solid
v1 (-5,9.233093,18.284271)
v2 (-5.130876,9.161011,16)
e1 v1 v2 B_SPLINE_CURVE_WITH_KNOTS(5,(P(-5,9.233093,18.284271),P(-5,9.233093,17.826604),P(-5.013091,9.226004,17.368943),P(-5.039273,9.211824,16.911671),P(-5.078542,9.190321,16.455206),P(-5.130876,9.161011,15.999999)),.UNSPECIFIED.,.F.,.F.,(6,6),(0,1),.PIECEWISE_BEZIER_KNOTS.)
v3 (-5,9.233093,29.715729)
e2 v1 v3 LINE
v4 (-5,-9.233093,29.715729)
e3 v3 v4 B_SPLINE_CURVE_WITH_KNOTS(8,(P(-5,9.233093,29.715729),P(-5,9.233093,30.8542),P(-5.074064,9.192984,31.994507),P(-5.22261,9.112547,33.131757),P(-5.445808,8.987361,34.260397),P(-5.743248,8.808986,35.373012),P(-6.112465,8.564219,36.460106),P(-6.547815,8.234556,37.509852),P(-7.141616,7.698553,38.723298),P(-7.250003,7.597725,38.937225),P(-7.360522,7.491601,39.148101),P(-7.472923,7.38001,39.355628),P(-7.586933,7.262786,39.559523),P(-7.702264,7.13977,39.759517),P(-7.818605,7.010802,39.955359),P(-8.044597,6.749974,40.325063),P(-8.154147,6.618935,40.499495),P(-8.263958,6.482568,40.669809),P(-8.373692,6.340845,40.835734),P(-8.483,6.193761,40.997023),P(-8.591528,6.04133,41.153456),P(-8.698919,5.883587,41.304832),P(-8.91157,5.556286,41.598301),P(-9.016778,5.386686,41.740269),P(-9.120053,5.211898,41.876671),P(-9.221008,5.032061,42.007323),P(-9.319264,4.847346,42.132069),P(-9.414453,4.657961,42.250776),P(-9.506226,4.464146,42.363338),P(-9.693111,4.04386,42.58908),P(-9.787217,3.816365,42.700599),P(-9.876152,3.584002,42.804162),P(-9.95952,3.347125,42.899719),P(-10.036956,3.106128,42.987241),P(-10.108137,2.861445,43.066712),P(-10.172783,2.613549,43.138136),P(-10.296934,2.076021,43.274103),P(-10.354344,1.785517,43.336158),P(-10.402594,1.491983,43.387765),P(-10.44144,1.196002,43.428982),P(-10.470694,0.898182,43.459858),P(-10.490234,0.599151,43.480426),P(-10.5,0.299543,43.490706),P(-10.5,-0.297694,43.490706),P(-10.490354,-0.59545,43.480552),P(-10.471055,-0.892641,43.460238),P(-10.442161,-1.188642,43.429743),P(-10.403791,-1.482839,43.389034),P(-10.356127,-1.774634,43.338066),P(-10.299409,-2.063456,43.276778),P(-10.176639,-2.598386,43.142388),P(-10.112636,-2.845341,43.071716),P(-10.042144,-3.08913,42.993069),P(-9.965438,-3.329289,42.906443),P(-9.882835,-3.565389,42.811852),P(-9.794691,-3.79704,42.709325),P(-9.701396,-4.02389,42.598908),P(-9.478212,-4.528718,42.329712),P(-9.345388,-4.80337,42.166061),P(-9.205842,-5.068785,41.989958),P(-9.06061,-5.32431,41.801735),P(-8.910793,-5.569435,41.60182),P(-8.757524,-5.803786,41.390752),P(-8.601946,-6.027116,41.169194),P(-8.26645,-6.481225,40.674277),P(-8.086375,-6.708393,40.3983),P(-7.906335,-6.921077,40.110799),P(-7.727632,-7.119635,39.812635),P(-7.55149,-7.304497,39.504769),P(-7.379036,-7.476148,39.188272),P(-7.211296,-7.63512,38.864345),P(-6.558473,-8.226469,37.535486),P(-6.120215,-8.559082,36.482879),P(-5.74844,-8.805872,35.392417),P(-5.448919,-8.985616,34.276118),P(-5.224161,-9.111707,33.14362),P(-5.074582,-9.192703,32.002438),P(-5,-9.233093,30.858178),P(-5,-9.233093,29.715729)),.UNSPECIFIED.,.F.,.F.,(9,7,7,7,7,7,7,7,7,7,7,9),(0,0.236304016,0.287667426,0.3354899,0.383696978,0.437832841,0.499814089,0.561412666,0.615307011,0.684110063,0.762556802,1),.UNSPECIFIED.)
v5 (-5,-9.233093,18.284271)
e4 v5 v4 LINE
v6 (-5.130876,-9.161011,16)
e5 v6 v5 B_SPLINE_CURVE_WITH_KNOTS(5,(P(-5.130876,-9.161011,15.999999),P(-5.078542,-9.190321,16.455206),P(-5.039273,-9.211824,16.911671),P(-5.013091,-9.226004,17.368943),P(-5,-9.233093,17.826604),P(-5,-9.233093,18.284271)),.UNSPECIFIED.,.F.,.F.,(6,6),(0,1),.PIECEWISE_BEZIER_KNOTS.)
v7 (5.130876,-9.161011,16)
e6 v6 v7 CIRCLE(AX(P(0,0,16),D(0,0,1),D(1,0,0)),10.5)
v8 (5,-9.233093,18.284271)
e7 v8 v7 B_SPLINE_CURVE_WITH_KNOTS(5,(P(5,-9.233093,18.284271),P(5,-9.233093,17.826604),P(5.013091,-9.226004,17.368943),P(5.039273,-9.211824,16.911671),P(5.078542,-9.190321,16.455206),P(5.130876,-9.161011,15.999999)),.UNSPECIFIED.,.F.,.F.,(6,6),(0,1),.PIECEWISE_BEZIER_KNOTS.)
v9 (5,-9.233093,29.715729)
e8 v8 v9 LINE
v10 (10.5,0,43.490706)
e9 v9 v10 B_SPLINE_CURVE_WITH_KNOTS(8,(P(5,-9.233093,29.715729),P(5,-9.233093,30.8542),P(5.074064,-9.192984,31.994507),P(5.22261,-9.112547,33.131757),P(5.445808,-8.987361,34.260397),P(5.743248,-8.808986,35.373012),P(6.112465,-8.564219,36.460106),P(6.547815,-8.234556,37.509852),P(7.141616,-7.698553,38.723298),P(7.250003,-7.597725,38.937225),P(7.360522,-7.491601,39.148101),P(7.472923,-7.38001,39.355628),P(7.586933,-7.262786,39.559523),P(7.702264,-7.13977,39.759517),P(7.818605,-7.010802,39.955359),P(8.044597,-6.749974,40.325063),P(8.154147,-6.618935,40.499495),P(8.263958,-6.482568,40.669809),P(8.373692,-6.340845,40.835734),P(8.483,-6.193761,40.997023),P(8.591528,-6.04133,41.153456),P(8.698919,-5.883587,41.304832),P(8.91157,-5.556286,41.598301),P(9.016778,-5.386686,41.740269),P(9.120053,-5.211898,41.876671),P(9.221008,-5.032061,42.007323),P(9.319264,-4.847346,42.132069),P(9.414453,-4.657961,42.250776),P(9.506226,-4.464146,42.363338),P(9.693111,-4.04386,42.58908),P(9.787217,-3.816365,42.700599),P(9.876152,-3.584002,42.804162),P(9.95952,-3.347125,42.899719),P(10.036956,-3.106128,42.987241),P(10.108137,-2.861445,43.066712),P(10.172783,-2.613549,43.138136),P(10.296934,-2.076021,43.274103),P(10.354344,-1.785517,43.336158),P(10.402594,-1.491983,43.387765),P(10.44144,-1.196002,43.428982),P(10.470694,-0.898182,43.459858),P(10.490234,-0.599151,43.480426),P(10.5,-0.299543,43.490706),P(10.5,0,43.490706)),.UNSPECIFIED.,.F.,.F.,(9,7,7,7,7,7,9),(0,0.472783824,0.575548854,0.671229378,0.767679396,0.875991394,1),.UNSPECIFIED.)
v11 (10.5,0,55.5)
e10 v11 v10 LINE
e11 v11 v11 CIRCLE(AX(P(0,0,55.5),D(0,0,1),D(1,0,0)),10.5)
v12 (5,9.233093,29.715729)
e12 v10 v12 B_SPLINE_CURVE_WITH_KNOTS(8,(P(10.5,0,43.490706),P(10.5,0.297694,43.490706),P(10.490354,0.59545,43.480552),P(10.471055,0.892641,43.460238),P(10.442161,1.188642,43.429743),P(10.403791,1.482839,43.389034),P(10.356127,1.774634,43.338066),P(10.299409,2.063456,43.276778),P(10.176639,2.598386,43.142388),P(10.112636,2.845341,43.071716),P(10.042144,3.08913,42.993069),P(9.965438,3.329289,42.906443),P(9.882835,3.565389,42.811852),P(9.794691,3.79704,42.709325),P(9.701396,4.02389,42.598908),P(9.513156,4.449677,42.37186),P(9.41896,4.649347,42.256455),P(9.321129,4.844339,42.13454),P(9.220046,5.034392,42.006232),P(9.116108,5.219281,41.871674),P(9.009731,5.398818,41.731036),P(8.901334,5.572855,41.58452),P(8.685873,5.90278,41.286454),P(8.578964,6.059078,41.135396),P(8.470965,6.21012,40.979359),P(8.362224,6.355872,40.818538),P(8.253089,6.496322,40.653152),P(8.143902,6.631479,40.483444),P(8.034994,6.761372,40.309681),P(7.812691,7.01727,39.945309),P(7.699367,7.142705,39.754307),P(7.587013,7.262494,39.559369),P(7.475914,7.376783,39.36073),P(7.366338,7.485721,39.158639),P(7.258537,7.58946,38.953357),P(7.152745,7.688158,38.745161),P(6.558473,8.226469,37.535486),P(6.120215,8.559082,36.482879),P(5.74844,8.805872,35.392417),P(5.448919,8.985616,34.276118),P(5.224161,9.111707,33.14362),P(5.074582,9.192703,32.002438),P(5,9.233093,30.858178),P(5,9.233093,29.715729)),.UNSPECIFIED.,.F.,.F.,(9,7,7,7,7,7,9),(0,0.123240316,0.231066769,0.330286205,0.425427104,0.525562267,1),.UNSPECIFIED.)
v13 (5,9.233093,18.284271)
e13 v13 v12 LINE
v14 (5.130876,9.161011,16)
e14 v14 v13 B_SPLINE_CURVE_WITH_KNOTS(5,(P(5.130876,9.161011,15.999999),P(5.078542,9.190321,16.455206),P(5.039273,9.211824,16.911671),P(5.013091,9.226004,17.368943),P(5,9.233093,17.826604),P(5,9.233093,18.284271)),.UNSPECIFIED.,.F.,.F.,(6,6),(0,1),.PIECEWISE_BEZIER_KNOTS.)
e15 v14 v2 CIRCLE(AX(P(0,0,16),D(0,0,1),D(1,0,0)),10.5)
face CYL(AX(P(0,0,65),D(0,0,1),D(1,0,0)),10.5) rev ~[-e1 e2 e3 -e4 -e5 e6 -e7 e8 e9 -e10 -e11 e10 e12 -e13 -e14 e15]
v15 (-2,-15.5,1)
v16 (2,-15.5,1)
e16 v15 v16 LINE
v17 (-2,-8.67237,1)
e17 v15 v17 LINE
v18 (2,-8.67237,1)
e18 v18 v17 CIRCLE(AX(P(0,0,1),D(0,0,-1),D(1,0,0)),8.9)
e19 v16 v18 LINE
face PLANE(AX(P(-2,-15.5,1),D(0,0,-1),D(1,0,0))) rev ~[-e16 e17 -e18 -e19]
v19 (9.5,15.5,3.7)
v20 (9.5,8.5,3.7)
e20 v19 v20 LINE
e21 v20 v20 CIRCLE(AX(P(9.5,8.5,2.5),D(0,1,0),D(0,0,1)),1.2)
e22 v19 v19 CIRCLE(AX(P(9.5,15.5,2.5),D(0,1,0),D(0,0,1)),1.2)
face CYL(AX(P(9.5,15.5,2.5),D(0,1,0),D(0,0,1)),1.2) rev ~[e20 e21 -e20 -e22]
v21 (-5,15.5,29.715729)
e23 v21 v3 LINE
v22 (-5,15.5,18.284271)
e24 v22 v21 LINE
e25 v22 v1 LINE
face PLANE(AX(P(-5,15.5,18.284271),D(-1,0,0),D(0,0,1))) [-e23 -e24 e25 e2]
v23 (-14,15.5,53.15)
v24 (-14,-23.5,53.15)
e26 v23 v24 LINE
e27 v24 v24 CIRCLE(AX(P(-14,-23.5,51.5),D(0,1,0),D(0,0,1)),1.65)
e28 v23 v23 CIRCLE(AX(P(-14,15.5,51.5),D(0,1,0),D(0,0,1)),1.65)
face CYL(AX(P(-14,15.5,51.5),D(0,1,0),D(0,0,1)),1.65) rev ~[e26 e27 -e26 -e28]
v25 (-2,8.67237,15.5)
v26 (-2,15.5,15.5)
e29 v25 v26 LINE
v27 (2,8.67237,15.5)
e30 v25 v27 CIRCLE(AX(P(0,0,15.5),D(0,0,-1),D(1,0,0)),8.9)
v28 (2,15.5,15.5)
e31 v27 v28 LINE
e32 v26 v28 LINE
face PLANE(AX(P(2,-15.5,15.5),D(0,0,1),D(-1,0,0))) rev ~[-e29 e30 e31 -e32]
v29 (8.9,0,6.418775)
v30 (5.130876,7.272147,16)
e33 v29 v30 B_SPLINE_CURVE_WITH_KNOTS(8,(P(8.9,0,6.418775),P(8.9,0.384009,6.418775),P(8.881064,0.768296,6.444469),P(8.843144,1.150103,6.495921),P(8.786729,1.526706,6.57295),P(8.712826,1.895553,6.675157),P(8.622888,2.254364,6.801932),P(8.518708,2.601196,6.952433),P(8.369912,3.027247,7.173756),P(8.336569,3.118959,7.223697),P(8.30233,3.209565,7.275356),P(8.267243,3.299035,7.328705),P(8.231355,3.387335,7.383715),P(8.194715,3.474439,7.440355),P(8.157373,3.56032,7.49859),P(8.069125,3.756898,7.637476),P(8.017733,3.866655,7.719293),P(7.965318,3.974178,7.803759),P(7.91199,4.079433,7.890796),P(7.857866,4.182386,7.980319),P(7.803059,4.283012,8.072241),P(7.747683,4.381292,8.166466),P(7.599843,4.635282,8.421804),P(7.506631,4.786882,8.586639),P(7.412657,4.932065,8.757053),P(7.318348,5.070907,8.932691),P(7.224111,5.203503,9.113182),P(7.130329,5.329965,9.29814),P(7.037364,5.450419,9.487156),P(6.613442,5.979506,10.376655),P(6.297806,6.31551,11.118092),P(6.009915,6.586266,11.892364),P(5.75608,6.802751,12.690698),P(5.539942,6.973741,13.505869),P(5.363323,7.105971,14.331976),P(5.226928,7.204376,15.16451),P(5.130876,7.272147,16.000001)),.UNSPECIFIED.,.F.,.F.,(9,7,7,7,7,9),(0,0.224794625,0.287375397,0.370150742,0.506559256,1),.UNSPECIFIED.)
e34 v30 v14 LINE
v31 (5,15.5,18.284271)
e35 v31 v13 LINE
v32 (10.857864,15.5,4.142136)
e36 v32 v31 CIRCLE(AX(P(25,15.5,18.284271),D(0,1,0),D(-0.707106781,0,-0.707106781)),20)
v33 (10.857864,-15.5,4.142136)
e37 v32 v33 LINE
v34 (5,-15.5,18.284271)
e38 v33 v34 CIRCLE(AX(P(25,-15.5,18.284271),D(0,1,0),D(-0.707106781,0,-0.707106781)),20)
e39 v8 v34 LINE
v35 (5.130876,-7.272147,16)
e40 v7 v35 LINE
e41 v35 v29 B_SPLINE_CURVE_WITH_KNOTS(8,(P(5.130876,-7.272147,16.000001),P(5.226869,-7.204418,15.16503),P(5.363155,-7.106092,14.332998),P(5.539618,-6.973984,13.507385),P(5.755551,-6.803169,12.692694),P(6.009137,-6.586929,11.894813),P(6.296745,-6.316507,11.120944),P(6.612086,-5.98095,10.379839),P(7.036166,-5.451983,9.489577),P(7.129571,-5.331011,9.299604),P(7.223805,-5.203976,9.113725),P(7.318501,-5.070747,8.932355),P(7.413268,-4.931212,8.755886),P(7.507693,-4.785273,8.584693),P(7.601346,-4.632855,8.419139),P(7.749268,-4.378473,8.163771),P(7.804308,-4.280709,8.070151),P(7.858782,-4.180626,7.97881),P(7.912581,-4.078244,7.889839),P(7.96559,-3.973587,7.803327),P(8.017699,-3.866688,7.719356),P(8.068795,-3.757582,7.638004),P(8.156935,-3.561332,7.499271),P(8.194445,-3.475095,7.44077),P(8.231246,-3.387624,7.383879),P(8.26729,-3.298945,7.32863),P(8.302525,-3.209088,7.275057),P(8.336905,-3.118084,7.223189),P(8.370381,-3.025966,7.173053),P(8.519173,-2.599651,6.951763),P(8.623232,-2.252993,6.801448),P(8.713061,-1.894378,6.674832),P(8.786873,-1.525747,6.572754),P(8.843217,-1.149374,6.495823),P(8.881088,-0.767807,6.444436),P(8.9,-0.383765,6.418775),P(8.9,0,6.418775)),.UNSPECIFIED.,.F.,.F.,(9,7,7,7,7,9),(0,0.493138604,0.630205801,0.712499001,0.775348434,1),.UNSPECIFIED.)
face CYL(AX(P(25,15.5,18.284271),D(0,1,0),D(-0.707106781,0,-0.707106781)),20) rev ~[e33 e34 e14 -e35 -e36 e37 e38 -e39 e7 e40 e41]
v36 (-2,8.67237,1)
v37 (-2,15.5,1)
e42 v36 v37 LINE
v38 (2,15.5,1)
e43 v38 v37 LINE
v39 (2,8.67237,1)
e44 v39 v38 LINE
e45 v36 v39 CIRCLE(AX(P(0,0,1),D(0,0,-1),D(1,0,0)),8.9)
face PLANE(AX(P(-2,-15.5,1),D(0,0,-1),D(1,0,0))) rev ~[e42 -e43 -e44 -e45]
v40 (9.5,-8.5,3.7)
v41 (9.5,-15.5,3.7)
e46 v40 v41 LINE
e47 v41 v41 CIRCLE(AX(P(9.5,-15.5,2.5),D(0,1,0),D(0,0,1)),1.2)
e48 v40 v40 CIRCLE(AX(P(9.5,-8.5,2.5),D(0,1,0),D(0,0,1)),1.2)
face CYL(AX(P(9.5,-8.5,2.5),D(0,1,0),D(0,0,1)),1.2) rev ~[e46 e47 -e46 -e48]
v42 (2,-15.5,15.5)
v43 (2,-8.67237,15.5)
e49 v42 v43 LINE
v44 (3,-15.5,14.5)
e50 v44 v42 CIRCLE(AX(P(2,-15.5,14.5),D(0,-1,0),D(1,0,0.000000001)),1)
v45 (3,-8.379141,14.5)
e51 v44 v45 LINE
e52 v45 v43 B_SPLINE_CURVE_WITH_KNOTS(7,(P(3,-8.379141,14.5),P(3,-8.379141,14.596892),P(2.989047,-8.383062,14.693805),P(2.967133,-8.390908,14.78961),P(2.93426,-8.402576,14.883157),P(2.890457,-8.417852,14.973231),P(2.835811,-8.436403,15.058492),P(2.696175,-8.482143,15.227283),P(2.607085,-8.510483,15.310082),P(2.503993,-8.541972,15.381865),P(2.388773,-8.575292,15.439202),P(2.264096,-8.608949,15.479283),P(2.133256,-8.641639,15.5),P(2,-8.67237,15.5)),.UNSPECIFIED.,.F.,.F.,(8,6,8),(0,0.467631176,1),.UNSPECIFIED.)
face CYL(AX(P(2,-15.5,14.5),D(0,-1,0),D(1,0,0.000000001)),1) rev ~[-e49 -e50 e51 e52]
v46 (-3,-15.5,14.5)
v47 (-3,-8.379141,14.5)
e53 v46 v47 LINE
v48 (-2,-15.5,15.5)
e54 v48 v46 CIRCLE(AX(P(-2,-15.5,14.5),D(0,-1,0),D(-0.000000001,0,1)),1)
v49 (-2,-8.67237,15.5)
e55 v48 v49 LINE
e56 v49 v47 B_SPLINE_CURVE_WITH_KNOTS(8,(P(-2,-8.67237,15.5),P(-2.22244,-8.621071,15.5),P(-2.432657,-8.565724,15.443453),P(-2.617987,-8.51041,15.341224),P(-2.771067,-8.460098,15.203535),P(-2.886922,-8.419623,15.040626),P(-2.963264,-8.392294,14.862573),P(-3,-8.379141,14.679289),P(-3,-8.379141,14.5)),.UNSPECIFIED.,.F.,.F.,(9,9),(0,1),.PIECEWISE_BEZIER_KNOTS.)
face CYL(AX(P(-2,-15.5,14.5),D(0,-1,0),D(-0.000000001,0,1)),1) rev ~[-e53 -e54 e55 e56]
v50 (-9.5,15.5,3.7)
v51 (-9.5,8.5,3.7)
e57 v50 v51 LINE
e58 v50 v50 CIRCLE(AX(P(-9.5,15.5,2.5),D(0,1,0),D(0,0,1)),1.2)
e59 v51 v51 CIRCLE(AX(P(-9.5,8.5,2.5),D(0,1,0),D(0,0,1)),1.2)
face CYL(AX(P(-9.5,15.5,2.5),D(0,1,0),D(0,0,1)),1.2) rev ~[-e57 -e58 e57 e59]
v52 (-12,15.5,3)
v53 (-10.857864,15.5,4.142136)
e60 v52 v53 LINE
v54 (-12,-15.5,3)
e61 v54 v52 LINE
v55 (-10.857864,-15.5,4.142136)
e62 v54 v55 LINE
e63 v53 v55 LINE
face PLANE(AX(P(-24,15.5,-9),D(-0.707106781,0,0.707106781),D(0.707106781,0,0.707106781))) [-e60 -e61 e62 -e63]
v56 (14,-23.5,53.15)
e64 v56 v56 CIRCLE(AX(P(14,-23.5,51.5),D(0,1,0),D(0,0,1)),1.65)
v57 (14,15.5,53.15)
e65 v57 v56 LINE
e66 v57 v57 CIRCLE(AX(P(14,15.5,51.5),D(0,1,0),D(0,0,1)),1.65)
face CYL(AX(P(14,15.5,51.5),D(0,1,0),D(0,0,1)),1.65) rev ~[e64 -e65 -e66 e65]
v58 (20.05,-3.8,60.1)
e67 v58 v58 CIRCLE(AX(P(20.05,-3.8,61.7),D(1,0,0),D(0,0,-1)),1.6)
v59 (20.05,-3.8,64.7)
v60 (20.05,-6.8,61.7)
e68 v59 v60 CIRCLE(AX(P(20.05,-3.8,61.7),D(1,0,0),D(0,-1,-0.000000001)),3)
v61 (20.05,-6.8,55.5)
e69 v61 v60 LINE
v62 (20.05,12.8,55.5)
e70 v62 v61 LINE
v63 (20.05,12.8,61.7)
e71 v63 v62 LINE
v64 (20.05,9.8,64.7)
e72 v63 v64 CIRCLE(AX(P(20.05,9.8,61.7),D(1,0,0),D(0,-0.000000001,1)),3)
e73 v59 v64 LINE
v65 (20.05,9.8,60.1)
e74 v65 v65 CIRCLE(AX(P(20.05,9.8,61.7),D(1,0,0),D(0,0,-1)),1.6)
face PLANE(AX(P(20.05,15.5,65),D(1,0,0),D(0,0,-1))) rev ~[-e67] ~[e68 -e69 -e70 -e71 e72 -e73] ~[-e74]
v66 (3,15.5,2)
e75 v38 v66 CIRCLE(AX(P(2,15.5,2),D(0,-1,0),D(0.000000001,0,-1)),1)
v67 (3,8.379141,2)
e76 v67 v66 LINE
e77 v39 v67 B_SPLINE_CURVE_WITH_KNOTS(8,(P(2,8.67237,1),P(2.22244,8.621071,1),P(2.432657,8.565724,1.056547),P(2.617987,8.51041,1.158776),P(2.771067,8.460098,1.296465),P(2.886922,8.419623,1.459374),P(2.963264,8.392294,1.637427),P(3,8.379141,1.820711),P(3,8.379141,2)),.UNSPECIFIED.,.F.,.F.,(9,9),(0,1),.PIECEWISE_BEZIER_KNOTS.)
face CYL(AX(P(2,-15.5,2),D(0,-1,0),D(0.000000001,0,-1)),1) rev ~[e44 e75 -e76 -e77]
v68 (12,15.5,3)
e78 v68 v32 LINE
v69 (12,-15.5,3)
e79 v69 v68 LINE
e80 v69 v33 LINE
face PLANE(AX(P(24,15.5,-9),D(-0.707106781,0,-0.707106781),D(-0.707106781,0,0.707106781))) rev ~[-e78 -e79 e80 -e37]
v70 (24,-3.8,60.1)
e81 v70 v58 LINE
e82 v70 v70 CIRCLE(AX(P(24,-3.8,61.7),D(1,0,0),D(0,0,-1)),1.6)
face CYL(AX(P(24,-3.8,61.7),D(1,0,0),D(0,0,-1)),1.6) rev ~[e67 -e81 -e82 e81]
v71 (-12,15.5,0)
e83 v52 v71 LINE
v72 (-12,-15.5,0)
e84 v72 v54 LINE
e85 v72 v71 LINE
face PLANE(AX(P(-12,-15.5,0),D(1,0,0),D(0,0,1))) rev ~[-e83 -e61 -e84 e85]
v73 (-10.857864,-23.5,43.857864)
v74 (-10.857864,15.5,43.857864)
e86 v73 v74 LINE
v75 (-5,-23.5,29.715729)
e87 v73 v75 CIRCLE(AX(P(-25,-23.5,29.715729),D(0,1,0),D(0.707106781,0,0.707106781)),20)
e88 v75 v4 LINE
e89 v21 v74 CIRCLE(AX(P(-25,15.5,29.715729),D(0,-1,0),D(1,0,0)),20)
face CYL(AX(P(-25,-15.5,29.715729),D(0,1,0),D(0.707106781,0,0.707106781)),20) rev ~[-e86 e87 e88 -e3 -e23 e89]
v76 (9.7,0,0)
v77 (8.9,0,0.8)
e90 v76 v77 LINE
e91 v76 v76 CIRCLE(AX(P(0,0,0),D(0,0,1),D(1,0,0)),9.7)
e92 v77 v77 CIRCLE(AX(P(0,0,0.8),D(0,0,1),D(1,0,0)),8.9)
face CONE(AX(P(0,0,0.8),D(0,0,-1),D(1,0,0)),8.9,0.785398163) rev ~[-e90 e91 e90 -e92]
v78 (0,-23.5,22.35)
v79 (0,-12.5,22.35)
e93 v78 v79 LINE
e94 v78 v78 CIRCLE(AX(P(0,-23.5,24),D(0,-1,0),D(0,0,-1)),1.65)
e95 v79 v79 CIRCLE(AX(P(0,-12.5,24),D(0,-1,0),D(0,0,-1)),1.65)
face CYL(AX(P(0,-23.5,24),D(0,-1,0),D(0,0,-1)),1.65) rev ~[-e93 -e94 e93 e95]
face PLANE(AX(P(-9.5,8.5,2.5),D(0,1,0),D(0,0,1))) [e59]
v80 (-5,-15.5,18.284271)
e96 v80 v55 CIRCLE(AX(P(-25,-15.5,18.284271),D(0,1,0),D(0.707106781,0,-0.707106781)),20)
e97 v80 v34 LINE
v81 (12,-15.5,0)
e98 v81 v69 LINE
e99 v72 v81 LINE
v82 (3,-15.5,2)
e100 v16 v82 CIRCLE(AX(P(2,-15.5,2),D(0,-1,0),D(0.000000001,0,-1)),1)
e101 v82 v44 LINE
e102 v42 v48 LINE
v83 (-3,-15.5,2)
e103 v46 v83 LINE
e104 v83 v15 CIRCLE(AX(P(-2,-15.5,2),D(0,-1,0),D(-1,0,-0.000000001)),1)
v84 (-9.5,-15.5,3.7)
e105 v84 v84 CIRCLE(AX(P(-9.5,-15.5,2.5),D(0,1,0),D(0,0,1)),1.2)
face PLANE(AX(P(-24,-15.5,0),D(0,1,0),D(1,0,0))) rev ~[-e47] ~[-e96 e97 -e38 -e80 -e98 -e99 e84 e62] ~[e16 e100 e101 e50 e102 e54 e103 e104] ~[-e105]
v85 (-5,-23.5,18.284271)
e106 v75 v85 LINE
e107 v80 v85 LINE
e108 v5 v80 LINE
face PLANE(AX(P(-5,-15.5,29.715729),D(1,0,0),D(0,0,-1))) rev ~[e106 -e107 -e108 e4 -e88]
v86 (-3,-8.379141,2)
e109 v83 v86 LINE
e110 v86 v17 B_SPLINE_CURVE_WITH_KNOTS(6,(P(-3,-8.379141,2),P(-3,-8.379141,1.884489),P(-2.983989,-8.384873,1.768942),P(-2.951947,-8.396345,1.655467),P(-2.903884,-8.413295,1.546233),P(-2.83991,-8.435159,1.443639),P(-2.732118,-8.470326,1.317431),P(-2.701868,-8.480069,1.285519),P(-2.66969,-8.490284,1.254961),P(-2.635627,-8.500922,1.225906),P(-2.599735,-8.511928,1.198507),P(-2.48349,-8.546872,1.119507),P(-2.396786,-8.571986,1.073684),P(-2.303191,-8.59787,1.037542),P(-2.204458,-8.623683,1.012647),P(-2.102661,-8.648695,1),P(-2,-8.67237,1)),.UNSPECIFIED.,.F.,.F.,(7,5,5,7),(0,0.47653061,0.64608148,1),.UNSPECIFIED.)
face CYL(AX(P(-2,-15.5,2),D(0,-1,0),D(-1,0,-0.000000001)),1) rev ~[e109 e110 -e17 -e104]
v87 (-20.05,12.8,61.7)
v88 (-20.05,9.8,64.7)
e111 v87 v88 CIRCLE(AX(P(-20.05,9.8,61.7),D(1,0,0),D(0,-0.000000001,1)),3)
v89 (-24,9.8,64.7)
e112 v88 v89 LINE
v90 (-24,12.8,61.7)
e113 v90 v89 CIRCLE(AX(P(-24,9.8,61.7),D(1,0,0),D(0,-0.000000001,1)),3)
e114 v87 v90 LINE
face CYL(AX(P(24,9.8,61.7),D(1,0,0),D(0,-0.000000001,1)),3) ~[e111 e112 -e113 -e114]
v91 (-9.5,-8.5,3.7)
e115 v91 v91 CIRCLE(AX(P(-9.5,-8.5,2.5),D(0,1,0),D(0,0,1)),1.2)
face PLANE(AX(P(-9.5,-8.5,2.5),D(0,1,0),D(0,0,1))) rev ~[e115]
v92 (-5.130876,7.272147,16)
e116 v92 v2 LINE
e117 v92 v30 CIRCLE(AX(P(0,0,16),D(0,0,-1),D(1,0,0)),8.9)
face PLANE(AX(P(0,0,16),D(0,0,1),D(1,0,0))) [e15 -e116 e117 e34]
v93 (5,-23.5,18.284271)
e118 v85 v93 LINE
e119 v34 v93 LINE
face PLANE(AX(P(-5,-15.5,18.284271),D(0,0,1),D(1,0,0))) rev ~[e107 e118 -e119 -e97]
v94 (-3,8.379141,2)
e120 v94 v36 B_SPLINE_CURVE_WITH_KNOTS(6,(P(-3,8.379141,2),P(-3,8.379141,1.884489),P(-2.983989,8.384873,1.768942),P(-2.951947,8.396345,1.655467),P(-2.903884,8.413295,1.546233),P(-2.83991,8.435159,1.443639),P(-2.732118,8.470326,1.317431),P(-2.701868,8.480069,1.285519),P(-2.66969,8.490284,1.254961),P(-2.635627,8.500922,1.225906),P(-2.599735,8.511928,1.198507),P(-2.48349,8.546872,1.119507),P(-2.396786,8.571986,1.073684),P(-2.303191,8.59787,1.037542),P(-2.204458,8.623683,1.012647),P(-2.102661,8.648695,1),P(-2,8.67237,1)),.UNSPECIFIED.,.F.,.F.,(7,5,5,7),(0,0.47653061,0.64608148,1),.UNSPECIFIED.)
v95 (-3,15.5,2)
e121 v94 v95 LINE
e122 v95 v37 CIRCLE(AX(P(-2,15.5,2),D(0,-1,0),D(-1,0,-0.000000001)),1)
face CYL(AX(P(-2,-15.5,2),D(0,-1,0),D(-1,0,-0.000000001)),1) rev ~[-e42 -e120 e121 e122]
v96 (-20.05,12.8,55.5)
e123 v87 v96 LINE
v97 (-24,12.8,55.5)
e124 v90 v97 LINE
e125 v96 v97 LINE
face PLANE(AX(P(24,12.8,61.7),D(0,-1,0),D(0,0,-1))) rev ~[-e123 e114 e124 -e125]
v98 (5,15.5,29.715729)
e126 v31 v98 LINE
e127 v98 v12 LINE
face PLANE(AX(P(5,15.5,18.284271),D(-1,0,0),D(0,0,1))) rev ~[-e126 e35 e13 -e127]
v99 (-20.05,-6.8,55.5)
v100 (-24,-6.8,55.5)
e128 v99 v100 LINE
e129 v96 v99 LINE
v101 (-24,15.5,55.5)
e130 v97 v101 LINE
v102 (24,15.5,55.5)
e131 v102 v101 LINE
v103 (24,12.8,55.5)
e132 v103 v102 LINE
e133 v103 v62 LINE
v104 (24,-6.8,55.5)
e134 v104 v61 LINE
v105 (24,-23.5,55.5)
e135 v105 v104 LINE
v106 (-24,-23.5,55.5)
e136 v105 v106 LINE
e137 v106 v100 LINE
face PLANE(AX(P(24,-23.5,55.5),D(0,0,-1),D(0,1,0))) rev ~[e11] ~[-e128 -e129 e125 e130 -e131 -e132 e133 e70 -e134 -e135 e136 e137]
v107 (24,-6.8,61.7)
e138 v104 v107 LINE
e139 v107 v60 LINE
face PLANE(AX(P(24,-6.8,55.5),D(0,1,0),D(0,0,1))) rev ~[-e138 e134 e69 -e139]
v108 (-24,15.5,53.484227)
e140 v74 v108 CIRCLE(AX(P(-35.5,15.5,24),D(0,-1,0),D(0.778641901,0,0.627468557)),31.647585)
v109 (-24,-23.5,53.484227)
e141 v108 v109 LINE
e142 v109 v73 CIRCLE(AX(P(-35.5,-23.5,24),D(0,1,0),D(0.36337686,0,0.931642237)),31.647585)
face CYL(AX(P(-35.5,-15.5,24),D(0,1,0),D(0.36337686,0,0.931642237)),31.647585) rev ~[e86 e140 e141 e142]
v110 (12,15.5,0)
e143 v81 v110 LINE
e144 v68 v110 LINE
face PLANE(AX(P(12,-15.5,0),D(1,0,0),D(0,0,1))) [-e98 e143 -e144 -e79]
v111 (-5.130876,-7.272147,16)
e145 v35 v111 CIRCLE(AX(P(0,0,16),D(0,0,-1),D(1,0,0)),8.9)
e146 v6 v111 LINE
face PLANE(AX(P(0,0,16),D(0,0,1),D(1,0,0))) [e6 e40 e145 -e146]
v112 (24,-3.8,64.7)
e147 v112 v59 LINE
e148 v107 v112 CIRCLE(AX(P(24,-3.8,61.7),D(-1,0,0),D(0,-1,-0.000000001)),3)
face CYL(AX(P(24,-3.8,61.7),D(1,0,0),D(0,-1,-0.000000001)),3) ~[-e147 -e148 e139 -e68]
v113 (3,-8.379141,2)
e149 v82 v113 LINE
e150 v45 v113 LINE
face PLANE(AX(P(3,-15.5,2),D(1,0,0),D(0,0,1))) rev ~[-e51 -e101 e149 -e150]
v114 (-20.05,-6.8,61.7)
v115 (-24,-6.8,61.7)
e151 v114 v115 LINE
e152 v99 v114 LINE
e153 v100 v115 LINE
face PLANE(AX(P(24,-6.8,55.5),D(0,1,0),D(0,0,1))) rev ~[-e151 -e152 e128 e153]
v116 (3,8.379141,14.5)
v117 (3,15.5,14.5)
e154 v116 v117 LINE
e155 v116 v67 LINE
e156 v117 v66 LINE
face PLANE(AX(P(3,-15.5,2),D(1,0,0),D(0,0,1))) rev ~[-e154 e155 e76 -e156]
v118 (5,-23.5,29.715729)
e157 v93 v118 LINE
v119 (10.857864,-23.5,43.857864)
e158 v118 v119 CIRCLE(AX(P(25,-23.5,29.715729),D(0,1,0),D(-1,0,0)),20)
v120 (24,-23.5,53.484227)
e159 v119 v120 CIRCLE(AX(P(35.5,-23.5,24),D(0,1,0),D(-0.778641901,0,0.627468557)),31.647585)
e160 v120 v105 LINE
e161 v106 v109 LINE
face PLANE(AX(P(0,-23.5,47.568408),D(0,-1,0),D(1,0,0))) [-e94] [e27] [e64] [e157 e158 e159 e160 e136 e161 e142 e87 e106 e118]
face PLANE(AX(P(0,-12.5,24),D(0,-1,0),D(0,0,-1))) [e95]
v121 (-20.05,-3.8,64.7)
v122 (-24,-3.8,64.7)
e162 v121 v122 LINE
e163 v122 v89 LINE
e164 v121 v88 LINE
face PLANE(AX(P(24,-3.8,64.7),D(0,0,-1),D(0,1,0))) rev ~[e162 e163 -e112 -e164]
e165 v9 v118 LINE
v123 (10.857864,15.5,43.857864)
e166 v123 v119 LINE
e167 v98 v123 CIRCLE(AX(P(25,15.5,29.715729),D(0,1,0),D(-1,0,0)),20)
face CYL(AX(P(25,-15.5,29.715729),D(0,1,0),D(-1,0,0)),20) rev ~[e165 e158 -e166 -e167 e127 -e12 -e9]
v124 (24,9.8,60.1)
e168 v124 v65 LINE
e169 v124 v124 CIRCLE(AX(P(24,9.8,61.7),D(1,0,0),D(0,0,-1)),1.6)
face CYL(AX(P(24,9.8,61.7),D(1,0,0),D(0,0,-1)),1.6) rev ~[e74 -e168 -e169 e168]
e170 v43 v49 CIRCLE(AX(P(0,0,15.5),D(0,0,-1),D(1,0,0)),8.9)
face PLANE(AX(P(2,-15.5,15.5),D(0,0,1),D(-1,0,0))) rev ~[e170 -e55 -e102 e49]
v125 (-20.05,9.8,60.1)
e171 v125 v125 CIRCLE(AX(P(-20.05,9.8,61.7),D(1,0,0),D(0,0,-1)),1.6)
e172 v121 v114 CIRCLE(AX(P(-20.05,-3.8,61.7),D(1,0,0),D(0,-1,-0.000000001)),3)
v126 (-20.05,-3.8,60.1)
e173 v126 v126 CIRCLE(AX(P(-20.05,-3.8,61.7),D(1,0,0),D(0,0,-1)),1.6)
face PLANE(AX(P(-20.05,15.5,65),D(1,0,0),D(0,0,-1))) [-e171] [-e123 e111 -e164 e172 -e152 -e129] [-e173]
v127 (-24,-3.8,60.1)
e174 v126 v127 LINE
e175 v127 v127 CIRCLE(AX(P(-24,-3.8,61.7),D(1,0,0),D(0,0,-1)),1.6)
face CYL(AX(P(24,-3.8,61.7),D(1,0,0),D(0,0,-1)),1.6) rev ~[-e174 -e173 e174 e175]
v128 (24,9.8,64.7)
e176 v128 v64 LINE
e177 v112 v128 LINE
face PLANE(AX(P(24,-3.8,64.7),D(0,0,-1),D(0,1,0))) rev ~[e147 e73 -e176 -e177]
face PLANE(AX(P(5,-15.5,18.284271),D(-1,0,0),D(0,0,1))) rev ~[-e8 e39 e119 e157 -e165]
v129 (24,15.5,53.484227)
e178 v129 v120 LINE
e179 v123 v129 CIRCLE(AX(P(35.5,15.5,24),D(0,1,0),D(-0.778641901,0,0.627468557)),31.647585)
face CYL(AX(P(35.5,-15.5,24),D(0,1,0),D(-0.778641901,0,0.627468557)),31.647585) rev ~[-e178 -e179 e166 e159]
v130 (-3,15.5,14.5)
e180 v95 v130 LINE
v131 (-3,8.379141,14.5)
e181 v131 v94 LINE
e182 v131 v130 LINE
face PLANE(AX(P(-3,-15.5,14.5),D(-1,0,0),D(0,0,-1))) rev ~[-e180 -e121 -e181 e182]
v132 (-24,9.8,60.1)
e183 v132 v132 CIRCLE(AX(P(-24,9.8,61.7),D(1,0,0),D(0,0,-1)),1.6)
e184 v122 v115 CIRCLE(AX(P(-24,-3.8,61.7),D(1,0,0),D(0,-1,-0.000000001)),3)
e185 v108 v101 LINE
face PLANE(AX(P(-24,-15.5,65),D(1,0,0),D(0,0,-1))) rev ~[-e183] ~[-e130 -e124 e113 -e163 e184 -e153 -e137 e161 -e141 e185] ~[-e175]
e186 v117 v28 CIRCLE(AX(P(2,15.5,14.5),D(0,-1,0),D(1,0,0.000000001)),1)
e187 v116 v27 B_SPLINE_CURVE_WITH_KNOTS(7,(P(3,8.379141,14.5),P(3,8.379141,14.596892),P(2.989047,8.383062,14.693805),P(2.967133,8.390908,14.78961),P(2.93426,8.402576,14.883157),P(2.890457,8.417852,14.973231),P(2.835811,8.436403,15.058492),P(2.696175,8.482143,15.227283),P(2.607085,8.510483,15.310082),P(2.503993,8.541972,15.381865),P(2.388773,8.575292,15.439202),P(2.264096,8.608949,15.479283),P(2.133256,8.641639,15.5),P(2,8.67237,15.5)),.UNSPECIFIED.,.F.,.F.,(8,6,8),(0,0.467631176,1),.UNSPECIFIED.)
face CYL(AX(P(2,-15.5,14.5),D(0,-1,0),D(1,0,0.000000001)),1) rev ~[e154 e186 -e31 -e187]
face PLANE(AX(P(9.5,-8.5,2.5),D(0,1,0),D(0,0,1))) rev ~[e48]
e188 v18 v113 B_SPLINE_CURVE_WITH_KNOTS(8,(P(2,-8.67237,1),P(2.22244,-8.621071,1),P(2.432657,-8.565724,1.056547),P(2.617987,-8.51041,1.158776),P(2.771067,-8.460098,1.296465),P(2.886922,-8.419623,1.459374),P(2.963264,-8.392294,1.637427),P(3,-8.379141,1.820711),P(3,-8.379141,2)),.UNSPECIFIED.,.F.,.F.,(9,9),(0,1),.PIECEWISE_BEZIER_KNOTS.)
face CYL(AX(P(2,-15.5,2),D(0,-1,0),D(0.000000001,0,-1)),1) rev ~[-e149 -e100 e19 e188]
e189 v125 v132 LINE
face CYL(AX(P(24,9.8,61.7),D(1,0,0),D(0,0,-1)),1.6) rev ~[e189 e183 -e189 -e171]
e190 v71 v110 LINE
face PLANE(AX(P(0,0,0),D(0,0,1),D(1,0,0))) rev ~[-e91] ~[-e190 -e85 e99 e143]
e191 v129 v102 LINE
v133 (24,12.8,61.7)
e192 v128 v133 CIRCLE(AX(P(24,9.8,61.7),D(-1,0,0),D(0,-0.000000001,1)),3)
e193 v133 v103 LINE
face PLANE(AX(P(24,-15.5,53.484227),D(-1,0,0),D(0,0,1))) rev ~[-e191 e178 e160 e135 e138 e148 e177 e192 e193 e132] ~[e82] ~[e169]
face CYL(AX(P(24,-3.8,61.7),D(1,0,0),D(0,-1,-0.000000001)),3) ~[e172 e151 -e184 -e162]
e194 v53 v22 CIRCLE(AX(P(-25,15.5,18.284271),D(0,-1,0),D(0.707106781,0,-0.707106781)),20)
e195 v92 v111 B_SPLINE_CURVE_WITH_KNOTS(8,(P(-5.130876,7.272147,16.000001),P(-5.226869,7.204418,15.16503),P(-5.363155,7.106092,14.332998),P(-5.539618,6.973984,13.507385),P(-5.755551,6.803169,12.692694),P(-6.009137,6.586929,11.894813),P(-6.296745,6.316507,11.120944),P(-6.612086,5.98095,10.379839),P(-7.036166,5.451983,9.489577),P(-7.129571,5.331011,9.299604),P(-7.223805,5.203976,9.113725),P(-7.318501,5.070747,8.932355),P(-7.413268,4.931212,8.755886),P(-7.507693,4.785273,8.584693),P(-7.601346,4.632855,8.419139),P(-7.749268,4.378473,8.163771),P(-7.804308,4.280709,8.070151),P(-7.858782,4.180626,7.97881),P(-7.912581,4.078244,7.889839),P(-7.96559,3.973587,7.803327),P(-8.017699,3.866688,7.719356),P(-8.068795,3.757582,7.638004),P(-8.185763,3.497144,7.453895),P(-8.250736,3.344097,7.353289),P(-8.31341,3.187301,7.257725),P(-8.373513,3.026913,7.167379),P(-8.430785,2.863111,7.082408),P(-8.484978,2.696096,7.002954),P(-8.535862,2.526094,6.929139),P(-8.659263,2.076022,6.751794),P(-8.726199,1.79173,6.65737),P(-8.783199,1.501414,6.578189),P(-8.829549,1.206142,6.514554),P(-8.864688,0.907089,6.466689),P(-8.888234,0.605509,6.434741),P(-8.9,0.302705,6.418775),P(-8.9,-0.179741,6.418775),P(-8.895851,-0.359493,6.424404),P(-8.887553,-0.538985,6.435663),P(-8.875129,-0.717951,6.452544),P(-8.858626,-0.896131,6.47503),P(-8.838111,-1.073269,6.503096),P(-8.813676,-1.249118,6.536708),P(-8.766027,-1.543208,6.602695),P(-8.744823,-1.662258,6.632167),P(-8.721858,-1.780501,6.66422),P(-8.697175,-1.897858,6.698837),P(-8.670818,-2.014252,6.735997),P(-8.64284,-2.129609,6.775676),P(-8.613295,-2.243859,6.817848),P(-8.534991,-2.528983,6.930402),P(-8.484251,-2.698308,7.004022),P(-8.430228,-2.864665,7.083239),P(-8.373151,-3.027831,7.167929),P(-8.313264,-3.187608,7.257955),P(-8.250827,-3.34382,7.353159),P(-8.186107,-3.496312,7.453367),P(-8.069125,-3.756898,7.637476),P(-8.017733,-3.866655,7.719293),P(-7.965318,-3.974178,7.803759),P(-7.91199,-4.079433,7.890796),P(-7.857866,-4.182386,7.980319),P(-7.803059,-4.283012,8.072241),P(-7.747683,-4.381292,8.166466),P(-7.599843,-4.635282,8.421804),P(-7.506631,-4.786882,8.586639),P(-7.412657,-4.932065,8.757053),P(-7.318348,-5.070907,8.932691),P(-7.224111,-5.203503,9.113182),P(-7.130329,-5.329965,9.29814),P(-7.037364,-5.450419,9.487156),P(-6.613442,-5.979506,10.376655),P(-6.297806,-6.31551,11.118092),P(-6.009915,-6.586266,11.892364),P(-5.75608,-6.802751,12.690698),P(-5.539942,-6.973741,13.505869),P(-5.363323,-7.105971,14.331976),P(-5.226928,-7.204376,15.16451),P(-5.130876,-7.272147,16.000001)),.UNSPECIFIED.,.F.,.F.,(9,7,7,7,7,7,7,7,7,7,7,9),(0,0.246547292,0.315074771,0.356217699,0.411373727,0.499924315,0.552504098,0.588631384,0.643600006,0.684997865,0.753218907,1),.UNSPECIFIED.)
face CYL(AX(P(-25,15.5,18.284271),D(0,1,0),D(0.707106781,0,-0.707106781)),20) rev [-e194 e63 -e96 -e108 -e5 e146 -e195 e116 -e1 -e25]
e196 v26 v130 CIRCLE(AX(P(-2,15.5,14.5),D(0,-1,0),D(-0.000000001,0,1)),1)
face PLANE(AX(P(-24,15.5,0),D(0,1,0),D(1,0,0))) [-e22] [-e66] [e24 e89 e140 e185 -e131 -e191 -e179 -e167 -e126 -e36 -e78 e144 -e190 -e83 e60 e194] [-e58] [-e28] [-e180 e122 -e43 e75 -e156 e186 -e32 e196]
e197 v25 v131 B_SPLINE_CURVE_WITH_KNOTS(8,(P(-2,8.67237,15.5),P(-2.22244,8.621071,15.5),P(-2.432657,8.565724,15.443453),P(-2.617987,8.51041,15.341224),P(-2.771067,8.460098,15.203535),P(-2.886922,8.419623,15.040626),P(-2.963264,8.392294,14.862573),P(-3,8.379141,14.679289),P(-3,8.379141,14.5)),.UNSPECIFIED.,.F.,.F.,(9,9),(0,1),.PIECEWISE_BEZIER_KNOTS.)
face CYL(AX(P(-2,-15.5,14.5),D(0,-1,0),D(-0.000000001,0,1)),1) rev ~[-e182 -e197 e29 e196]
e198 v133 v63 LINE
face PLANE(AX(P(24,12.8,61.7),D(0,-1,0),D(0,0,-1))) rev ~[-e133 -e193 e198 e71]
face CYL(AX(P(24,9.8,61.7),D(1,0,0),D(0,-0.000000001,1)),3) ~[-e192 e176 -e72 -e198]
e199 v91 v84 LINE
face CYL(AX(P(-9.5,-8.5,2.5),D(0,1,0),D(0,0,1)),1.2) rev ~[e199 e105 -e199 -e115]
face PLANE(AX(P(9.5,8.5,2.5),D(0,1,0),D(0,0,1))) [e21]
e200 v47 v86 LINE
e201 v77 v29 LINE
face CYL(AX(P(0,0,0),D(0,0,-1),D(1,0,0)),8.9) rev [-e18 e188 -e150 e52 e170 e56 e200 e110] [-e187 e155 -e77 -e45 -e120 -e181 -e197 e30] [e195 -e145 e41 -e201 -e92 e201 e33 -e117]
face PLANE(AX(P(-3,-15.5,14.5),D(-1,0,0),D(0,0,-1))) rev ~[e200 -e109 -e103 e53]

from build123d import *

# Parameters (mm, degrees)
SKETCH_1_W           = 48
SKETCH_1_H           = 31
SKETCH_1_R           = 8.9
EXTRUDE_1_DEPTH      = 65
SKETCH_2_R           = 10.5
CUT_EXTRUDE_1_DEPTH  = 49
CUT_EXTRUDE_3_DEPTH  = 76.907838857
CUT_EXTRUDE_START    = -31
CUT_EXTRUDE_5_DEPTH  = 107.907838984
SKETCH_9_R           = 1.2
CUT_EXTRUDE_6_DEPTH  = 7
CUT_EXTRUDE_START_2  = -24
SKETCH_9_2_R         = 1.2
CUT_EXTRUDE_7_DEPTH  = 7
EXTRUDE_4_DEPTH      = 8
SKETCH_11_R          = 1.65
CUT_EXTRUDE_9_DEPTH  = 80.511005658
SKETCH_14_R          = 1.65
CUT_EXTRUDE_10_DEPTH = 11
SKETCH_15_W          = 40.1
SKETCH_15_H          = 9.5
CUT_EXTRUDE_11_DEPTH = 80.511005658
SKETCH_17_R          = 1.6
CUT_EXTRUDE_13_DEPTH = 85.150163426
SKETCH_19_W          = 3
SKETCH_19_H          = 3
CUT_EXTRUDE_14_DEPTH = 76.651107105
CHAMFER_1_SIZE       = 0.8


with BuildPart() as part:
    # 草图1 → 凸台-拉伸1 (new body)
    with BuildSketch(Plane.XY):
        Rectangle(SKETCH_1_W, SKETCH_1_H)
        Circle(SKETCH_1_R, mode=Mode.SUBTRACT)
    extrude(amount=EXTRUDE_1_DEPTH)

    # 草图2 → 切除-拉伸1 (cut)
    with BuildSketch(Plane.XY.offset(65)):
        Circle(SKETCH_2_R)
    extrude(amount=-CUT_EXTRUDE_1_DEPTH, mode=Mode.SUBTRACT)

    # 草图4 → 切除-拉伸3 (cut, through all)
    with BuildSketch(Plane(origin=(0, 15.5, 0), x_dir=(1, 0, 0), z_dir=(0, 1, 0))):
        with BuildLine():
            Line((-24, 9), (-10.857864376, -4.142135624))
            ThreePointArc((-10.857864376, -4.142135624), (-6.52240935, -10.6306026), (-5, -18.284271247))
            Line((-5, -18.284271247), (-5, -29.715728753))
            ThreePointArc((-5, -29.715728753), (-6.52240935, -37.3693974), (-10.857864376, -43.857864376))
            ThreePointArc((-10.857864376, -43.857864376), (-16.798925034, -49.531146093), (-24, -53.484226727))
            Line((-24, -53.484226727), (-24, 9))
        make_face()
        with BuildLine():
            Line((5, -18.284271247), (5, -29.715728753))
            ThreePointArc((5, -29.715728753), (6.52240935, -37.3693974), (10.857864376, -43.857864376))
            ThreePointArc((10.857864376, -43.857864376), (16.798925034, -49.531146093), (24, -53.484226727))
            Line((24, -53.484226727), (24, 9))
            Line((24, 9), (10.857864376, -4.142135624))
            ThreePointArc((10.857864376, -4.142135624), (6.52240935, -10.6306026), (5, -18.284271247))
        make_face()
    extrude(amount=-CUT_EXTRUDE_3_DEPTH, mode=Mode.SUBTRACT)

    # 草图6 → 切除-拉伸5 (cut, through all)
    with BuildSketch(Plane(origin=(0, 15.5, 0), x_dir=(1, 0, 0), z_dir=(0, 1, 0)).offset(CUT_EXTRUDE_START)):
        with BuildLine():
            Line((-2, -1), (2, -1))
            ThreePointArc((2, -1), (2.707106781, -1.292893219), (3, -2))
            Line((3, -2), (3, -14.5))
            ThreePointArc((3, -14.5), (2.707106781, -15.207106781), (2, -15.5))
            Line((2, -15.5), (-2, -15.5))
            ThreePointArc((-2, -15.5), (-2.707106781, -15.207106781), (-3, -14.5))
            Line((-3, -14.5), (-3, -2))
            ThreePointArc((-3, -2), (-2.707106781, -1.292893219), (-2, -1))
        make_face()
    extrude(amount=CUT_EXTRUDE_5_DEPTH, mode=Mode.SUBTRACT)

    # 草图9 → 切除-拉伸6 (cut)
    with BuildSketch(Plane(origin=(0, 15.5, 0), x_dir=(1, 0, 0), z_dir=(0, 1, 0))):
        with Locations(Location((9.5, -2.5, 0), (0, 0, 270))):
            Circle(SKETCH_9_R)
        with Locations(Location((-9.5, -2.5, 0), (0, 0, 270))):
            Circle(SKETCH_9_R)
    extrude(amount=-CUT_EXTRUDE_6_DEPTH, mode=Mode.SUBTRACT)

    # 草图9<2> → 切除-拉伸7 (cut)
    with BuildSketch(Plane(origin=(0, 15.5, 0), x_dir=(1, 0, 0), z_dir=(0, 1, 0)).offset(CUT_EXTRUDE_START_2)):
        with Locations(Location((9.5, -2.5, 0), (0, 0, 270))):
            Circle(SKETCH_9_2_R)
        with Locations(Location((-9.5, -2.5, 0), (0, 0, 270))):
            Circle(SKETCH_9_2_R)
    extrude(amount=-CUT_EXTRUDE_7_DEPTH, mode=Mode.SUBTRACT)

    # 草图12 → 凸台-拉伸4 (add)
    with BuildSketch(Plane.XZ.offset(15.5)):
        with BuildLine():
            Line((-5, 18.284271247), (5, 18.284271247))
            Line((5, 18.284271247), (5, 29.715728753))
            ThreePointArc((5, 29.715728753), (6.52240935, 37.3693974), (10.857864376, 43.857864376))
            ThreePointArc((10.857864376, 43.857864376), (16.798925034, 49.531146093), (24, 53.484226727))
            Line((24, 53.484226727), (24, 65))
            Line((24, 65), (-24, 65))
            Line((-24, 65), (-24, 53.484226727))
            ThreePointArc((-24, 53.484226727), (-16.798925034, 49.531146093), (-10.857864376, 43.857864376))
            ThreePointArc((-10.857864376, 43.857864376), (-6.52240935, 37.3693974), (-5, 29.715728753))
            Line((-5, 29.715728753), (-5, 18.284271247))
        make_face()
    extrude(amount=EXTRUDE_4_DEPTH)

    # 草图11 → 切除-拉伸9 (cut, through all)
    with BuildSketch(Plane(origin=(0, 15.5, 0), x_dir=(1, 0, 0), z_dir=(0, 1, 0))):
        with Locations(Location((14, -51.5, 0), (0, 0, 270))):
            Circle(SKETCH_11_R)
        with Locations(Location((-14, -51.5, 0), (0, 0, 270))):
            Circle(SKETCH_11_R)
    extrude(amount=-CUT_EXTRUDE_9_DEPTH, mode=Mode.SUBTRACT)

    # 草图14 → 切除-拉伸10 (cut)
    with BuildSketch(Plane.XZ.offset(23.5)):
        with Locations(Location((0, 24, 0), (0, 0, 270))):
            Circle(SKETCH_14_R)
    extrude(amount=-CUT_EXTRUDE_10_DEPTH, mode=Mode.SUBTRACT)

    # 草图15 → 切除-拉伸11 (cut, through all)
    with BuildSketch(Plane(origin=(0, 15.5, 0), x_dir=(1, 0, 0), z_dir=(0, 1, 0))):
        with Locations((0, -60.25)):
            Rectangle(SKETCH_15_W, SKETCH_15_H)
    extrude(amount=-CUT_EXTRUDE_11_DEPTH, mode=Mode.SUBTRACT)

    # 草图17 → 切除-拉伸13 (cut, through all)
    with BuildSketch(Plane(origin=(24, 0, 0), x_dir=(0, 0, -1), z_dir=(1, 0, 0))):
        with Locations((-61.7, 9.8)):
            Circle(SKETCH_17_R)
        with Locations((-61.7, -3.8)):
            Circle(SKETCH_17_R)
        with BuildLine():
            Line((-55.5, -23.5), (-55.5, -6.8))
            Line((-55.5, -6.8), (-61.7, -6.8))
            ThreePointArc((-61.7, -6.8), (-63.821320344, -5.921320344), (-64.7, -3.8))
            Line((-64.7, -3.8), (-64.7, 9.8))
            ThreePointArc((-64.7, 9.8), (-63.821320344, 11.921320344), (-61.7, 12.8))
            Line((-61.7, 12.8), (-55.5, 12.8))
            Line((-55.5, 12.8), (-55.5, 15.5))
            Line((-55.5, 15.5), (-64.7, 15.5))
            Line((-64.7, 15.5), (-94.5, 15.5))
            Line((-94.5, 15.5), (-94.5, -23.5))
            Line((-94.5, -23.5), (-55.5, -23.5))
        make_face()
    extrude(amount=-CUT_EXTRUDE_13_DEPTH, mode=Mode.SUBTRACT)

    # 草图19 → 切除-拉伸14 (cut, through all)
    with BuildSketch(Plane.XZ.offset(15.5)):
        with Locations((-13.5, 1.5)):
            Rectangle(SKETCH_19_W, SKETCH_19_H)
        with Locations((13.5, 1.5)):
            Rectangle(SKETCH_19_W, SKETCH_19_H)
    extrude(amount=-CUT_EXTRUDE_14_DEPTH, mode=Mode.SUBTRACT)

    # 倒角1
    chamfer_1_edges = [part.edges().sort_by_distance(p)[0] for p in [
        (-8.9, 0, 0),
    ]]
    chamfer(chamfer_1_edges, length=CHAMFER_1_SIZE)


solid = part.part
